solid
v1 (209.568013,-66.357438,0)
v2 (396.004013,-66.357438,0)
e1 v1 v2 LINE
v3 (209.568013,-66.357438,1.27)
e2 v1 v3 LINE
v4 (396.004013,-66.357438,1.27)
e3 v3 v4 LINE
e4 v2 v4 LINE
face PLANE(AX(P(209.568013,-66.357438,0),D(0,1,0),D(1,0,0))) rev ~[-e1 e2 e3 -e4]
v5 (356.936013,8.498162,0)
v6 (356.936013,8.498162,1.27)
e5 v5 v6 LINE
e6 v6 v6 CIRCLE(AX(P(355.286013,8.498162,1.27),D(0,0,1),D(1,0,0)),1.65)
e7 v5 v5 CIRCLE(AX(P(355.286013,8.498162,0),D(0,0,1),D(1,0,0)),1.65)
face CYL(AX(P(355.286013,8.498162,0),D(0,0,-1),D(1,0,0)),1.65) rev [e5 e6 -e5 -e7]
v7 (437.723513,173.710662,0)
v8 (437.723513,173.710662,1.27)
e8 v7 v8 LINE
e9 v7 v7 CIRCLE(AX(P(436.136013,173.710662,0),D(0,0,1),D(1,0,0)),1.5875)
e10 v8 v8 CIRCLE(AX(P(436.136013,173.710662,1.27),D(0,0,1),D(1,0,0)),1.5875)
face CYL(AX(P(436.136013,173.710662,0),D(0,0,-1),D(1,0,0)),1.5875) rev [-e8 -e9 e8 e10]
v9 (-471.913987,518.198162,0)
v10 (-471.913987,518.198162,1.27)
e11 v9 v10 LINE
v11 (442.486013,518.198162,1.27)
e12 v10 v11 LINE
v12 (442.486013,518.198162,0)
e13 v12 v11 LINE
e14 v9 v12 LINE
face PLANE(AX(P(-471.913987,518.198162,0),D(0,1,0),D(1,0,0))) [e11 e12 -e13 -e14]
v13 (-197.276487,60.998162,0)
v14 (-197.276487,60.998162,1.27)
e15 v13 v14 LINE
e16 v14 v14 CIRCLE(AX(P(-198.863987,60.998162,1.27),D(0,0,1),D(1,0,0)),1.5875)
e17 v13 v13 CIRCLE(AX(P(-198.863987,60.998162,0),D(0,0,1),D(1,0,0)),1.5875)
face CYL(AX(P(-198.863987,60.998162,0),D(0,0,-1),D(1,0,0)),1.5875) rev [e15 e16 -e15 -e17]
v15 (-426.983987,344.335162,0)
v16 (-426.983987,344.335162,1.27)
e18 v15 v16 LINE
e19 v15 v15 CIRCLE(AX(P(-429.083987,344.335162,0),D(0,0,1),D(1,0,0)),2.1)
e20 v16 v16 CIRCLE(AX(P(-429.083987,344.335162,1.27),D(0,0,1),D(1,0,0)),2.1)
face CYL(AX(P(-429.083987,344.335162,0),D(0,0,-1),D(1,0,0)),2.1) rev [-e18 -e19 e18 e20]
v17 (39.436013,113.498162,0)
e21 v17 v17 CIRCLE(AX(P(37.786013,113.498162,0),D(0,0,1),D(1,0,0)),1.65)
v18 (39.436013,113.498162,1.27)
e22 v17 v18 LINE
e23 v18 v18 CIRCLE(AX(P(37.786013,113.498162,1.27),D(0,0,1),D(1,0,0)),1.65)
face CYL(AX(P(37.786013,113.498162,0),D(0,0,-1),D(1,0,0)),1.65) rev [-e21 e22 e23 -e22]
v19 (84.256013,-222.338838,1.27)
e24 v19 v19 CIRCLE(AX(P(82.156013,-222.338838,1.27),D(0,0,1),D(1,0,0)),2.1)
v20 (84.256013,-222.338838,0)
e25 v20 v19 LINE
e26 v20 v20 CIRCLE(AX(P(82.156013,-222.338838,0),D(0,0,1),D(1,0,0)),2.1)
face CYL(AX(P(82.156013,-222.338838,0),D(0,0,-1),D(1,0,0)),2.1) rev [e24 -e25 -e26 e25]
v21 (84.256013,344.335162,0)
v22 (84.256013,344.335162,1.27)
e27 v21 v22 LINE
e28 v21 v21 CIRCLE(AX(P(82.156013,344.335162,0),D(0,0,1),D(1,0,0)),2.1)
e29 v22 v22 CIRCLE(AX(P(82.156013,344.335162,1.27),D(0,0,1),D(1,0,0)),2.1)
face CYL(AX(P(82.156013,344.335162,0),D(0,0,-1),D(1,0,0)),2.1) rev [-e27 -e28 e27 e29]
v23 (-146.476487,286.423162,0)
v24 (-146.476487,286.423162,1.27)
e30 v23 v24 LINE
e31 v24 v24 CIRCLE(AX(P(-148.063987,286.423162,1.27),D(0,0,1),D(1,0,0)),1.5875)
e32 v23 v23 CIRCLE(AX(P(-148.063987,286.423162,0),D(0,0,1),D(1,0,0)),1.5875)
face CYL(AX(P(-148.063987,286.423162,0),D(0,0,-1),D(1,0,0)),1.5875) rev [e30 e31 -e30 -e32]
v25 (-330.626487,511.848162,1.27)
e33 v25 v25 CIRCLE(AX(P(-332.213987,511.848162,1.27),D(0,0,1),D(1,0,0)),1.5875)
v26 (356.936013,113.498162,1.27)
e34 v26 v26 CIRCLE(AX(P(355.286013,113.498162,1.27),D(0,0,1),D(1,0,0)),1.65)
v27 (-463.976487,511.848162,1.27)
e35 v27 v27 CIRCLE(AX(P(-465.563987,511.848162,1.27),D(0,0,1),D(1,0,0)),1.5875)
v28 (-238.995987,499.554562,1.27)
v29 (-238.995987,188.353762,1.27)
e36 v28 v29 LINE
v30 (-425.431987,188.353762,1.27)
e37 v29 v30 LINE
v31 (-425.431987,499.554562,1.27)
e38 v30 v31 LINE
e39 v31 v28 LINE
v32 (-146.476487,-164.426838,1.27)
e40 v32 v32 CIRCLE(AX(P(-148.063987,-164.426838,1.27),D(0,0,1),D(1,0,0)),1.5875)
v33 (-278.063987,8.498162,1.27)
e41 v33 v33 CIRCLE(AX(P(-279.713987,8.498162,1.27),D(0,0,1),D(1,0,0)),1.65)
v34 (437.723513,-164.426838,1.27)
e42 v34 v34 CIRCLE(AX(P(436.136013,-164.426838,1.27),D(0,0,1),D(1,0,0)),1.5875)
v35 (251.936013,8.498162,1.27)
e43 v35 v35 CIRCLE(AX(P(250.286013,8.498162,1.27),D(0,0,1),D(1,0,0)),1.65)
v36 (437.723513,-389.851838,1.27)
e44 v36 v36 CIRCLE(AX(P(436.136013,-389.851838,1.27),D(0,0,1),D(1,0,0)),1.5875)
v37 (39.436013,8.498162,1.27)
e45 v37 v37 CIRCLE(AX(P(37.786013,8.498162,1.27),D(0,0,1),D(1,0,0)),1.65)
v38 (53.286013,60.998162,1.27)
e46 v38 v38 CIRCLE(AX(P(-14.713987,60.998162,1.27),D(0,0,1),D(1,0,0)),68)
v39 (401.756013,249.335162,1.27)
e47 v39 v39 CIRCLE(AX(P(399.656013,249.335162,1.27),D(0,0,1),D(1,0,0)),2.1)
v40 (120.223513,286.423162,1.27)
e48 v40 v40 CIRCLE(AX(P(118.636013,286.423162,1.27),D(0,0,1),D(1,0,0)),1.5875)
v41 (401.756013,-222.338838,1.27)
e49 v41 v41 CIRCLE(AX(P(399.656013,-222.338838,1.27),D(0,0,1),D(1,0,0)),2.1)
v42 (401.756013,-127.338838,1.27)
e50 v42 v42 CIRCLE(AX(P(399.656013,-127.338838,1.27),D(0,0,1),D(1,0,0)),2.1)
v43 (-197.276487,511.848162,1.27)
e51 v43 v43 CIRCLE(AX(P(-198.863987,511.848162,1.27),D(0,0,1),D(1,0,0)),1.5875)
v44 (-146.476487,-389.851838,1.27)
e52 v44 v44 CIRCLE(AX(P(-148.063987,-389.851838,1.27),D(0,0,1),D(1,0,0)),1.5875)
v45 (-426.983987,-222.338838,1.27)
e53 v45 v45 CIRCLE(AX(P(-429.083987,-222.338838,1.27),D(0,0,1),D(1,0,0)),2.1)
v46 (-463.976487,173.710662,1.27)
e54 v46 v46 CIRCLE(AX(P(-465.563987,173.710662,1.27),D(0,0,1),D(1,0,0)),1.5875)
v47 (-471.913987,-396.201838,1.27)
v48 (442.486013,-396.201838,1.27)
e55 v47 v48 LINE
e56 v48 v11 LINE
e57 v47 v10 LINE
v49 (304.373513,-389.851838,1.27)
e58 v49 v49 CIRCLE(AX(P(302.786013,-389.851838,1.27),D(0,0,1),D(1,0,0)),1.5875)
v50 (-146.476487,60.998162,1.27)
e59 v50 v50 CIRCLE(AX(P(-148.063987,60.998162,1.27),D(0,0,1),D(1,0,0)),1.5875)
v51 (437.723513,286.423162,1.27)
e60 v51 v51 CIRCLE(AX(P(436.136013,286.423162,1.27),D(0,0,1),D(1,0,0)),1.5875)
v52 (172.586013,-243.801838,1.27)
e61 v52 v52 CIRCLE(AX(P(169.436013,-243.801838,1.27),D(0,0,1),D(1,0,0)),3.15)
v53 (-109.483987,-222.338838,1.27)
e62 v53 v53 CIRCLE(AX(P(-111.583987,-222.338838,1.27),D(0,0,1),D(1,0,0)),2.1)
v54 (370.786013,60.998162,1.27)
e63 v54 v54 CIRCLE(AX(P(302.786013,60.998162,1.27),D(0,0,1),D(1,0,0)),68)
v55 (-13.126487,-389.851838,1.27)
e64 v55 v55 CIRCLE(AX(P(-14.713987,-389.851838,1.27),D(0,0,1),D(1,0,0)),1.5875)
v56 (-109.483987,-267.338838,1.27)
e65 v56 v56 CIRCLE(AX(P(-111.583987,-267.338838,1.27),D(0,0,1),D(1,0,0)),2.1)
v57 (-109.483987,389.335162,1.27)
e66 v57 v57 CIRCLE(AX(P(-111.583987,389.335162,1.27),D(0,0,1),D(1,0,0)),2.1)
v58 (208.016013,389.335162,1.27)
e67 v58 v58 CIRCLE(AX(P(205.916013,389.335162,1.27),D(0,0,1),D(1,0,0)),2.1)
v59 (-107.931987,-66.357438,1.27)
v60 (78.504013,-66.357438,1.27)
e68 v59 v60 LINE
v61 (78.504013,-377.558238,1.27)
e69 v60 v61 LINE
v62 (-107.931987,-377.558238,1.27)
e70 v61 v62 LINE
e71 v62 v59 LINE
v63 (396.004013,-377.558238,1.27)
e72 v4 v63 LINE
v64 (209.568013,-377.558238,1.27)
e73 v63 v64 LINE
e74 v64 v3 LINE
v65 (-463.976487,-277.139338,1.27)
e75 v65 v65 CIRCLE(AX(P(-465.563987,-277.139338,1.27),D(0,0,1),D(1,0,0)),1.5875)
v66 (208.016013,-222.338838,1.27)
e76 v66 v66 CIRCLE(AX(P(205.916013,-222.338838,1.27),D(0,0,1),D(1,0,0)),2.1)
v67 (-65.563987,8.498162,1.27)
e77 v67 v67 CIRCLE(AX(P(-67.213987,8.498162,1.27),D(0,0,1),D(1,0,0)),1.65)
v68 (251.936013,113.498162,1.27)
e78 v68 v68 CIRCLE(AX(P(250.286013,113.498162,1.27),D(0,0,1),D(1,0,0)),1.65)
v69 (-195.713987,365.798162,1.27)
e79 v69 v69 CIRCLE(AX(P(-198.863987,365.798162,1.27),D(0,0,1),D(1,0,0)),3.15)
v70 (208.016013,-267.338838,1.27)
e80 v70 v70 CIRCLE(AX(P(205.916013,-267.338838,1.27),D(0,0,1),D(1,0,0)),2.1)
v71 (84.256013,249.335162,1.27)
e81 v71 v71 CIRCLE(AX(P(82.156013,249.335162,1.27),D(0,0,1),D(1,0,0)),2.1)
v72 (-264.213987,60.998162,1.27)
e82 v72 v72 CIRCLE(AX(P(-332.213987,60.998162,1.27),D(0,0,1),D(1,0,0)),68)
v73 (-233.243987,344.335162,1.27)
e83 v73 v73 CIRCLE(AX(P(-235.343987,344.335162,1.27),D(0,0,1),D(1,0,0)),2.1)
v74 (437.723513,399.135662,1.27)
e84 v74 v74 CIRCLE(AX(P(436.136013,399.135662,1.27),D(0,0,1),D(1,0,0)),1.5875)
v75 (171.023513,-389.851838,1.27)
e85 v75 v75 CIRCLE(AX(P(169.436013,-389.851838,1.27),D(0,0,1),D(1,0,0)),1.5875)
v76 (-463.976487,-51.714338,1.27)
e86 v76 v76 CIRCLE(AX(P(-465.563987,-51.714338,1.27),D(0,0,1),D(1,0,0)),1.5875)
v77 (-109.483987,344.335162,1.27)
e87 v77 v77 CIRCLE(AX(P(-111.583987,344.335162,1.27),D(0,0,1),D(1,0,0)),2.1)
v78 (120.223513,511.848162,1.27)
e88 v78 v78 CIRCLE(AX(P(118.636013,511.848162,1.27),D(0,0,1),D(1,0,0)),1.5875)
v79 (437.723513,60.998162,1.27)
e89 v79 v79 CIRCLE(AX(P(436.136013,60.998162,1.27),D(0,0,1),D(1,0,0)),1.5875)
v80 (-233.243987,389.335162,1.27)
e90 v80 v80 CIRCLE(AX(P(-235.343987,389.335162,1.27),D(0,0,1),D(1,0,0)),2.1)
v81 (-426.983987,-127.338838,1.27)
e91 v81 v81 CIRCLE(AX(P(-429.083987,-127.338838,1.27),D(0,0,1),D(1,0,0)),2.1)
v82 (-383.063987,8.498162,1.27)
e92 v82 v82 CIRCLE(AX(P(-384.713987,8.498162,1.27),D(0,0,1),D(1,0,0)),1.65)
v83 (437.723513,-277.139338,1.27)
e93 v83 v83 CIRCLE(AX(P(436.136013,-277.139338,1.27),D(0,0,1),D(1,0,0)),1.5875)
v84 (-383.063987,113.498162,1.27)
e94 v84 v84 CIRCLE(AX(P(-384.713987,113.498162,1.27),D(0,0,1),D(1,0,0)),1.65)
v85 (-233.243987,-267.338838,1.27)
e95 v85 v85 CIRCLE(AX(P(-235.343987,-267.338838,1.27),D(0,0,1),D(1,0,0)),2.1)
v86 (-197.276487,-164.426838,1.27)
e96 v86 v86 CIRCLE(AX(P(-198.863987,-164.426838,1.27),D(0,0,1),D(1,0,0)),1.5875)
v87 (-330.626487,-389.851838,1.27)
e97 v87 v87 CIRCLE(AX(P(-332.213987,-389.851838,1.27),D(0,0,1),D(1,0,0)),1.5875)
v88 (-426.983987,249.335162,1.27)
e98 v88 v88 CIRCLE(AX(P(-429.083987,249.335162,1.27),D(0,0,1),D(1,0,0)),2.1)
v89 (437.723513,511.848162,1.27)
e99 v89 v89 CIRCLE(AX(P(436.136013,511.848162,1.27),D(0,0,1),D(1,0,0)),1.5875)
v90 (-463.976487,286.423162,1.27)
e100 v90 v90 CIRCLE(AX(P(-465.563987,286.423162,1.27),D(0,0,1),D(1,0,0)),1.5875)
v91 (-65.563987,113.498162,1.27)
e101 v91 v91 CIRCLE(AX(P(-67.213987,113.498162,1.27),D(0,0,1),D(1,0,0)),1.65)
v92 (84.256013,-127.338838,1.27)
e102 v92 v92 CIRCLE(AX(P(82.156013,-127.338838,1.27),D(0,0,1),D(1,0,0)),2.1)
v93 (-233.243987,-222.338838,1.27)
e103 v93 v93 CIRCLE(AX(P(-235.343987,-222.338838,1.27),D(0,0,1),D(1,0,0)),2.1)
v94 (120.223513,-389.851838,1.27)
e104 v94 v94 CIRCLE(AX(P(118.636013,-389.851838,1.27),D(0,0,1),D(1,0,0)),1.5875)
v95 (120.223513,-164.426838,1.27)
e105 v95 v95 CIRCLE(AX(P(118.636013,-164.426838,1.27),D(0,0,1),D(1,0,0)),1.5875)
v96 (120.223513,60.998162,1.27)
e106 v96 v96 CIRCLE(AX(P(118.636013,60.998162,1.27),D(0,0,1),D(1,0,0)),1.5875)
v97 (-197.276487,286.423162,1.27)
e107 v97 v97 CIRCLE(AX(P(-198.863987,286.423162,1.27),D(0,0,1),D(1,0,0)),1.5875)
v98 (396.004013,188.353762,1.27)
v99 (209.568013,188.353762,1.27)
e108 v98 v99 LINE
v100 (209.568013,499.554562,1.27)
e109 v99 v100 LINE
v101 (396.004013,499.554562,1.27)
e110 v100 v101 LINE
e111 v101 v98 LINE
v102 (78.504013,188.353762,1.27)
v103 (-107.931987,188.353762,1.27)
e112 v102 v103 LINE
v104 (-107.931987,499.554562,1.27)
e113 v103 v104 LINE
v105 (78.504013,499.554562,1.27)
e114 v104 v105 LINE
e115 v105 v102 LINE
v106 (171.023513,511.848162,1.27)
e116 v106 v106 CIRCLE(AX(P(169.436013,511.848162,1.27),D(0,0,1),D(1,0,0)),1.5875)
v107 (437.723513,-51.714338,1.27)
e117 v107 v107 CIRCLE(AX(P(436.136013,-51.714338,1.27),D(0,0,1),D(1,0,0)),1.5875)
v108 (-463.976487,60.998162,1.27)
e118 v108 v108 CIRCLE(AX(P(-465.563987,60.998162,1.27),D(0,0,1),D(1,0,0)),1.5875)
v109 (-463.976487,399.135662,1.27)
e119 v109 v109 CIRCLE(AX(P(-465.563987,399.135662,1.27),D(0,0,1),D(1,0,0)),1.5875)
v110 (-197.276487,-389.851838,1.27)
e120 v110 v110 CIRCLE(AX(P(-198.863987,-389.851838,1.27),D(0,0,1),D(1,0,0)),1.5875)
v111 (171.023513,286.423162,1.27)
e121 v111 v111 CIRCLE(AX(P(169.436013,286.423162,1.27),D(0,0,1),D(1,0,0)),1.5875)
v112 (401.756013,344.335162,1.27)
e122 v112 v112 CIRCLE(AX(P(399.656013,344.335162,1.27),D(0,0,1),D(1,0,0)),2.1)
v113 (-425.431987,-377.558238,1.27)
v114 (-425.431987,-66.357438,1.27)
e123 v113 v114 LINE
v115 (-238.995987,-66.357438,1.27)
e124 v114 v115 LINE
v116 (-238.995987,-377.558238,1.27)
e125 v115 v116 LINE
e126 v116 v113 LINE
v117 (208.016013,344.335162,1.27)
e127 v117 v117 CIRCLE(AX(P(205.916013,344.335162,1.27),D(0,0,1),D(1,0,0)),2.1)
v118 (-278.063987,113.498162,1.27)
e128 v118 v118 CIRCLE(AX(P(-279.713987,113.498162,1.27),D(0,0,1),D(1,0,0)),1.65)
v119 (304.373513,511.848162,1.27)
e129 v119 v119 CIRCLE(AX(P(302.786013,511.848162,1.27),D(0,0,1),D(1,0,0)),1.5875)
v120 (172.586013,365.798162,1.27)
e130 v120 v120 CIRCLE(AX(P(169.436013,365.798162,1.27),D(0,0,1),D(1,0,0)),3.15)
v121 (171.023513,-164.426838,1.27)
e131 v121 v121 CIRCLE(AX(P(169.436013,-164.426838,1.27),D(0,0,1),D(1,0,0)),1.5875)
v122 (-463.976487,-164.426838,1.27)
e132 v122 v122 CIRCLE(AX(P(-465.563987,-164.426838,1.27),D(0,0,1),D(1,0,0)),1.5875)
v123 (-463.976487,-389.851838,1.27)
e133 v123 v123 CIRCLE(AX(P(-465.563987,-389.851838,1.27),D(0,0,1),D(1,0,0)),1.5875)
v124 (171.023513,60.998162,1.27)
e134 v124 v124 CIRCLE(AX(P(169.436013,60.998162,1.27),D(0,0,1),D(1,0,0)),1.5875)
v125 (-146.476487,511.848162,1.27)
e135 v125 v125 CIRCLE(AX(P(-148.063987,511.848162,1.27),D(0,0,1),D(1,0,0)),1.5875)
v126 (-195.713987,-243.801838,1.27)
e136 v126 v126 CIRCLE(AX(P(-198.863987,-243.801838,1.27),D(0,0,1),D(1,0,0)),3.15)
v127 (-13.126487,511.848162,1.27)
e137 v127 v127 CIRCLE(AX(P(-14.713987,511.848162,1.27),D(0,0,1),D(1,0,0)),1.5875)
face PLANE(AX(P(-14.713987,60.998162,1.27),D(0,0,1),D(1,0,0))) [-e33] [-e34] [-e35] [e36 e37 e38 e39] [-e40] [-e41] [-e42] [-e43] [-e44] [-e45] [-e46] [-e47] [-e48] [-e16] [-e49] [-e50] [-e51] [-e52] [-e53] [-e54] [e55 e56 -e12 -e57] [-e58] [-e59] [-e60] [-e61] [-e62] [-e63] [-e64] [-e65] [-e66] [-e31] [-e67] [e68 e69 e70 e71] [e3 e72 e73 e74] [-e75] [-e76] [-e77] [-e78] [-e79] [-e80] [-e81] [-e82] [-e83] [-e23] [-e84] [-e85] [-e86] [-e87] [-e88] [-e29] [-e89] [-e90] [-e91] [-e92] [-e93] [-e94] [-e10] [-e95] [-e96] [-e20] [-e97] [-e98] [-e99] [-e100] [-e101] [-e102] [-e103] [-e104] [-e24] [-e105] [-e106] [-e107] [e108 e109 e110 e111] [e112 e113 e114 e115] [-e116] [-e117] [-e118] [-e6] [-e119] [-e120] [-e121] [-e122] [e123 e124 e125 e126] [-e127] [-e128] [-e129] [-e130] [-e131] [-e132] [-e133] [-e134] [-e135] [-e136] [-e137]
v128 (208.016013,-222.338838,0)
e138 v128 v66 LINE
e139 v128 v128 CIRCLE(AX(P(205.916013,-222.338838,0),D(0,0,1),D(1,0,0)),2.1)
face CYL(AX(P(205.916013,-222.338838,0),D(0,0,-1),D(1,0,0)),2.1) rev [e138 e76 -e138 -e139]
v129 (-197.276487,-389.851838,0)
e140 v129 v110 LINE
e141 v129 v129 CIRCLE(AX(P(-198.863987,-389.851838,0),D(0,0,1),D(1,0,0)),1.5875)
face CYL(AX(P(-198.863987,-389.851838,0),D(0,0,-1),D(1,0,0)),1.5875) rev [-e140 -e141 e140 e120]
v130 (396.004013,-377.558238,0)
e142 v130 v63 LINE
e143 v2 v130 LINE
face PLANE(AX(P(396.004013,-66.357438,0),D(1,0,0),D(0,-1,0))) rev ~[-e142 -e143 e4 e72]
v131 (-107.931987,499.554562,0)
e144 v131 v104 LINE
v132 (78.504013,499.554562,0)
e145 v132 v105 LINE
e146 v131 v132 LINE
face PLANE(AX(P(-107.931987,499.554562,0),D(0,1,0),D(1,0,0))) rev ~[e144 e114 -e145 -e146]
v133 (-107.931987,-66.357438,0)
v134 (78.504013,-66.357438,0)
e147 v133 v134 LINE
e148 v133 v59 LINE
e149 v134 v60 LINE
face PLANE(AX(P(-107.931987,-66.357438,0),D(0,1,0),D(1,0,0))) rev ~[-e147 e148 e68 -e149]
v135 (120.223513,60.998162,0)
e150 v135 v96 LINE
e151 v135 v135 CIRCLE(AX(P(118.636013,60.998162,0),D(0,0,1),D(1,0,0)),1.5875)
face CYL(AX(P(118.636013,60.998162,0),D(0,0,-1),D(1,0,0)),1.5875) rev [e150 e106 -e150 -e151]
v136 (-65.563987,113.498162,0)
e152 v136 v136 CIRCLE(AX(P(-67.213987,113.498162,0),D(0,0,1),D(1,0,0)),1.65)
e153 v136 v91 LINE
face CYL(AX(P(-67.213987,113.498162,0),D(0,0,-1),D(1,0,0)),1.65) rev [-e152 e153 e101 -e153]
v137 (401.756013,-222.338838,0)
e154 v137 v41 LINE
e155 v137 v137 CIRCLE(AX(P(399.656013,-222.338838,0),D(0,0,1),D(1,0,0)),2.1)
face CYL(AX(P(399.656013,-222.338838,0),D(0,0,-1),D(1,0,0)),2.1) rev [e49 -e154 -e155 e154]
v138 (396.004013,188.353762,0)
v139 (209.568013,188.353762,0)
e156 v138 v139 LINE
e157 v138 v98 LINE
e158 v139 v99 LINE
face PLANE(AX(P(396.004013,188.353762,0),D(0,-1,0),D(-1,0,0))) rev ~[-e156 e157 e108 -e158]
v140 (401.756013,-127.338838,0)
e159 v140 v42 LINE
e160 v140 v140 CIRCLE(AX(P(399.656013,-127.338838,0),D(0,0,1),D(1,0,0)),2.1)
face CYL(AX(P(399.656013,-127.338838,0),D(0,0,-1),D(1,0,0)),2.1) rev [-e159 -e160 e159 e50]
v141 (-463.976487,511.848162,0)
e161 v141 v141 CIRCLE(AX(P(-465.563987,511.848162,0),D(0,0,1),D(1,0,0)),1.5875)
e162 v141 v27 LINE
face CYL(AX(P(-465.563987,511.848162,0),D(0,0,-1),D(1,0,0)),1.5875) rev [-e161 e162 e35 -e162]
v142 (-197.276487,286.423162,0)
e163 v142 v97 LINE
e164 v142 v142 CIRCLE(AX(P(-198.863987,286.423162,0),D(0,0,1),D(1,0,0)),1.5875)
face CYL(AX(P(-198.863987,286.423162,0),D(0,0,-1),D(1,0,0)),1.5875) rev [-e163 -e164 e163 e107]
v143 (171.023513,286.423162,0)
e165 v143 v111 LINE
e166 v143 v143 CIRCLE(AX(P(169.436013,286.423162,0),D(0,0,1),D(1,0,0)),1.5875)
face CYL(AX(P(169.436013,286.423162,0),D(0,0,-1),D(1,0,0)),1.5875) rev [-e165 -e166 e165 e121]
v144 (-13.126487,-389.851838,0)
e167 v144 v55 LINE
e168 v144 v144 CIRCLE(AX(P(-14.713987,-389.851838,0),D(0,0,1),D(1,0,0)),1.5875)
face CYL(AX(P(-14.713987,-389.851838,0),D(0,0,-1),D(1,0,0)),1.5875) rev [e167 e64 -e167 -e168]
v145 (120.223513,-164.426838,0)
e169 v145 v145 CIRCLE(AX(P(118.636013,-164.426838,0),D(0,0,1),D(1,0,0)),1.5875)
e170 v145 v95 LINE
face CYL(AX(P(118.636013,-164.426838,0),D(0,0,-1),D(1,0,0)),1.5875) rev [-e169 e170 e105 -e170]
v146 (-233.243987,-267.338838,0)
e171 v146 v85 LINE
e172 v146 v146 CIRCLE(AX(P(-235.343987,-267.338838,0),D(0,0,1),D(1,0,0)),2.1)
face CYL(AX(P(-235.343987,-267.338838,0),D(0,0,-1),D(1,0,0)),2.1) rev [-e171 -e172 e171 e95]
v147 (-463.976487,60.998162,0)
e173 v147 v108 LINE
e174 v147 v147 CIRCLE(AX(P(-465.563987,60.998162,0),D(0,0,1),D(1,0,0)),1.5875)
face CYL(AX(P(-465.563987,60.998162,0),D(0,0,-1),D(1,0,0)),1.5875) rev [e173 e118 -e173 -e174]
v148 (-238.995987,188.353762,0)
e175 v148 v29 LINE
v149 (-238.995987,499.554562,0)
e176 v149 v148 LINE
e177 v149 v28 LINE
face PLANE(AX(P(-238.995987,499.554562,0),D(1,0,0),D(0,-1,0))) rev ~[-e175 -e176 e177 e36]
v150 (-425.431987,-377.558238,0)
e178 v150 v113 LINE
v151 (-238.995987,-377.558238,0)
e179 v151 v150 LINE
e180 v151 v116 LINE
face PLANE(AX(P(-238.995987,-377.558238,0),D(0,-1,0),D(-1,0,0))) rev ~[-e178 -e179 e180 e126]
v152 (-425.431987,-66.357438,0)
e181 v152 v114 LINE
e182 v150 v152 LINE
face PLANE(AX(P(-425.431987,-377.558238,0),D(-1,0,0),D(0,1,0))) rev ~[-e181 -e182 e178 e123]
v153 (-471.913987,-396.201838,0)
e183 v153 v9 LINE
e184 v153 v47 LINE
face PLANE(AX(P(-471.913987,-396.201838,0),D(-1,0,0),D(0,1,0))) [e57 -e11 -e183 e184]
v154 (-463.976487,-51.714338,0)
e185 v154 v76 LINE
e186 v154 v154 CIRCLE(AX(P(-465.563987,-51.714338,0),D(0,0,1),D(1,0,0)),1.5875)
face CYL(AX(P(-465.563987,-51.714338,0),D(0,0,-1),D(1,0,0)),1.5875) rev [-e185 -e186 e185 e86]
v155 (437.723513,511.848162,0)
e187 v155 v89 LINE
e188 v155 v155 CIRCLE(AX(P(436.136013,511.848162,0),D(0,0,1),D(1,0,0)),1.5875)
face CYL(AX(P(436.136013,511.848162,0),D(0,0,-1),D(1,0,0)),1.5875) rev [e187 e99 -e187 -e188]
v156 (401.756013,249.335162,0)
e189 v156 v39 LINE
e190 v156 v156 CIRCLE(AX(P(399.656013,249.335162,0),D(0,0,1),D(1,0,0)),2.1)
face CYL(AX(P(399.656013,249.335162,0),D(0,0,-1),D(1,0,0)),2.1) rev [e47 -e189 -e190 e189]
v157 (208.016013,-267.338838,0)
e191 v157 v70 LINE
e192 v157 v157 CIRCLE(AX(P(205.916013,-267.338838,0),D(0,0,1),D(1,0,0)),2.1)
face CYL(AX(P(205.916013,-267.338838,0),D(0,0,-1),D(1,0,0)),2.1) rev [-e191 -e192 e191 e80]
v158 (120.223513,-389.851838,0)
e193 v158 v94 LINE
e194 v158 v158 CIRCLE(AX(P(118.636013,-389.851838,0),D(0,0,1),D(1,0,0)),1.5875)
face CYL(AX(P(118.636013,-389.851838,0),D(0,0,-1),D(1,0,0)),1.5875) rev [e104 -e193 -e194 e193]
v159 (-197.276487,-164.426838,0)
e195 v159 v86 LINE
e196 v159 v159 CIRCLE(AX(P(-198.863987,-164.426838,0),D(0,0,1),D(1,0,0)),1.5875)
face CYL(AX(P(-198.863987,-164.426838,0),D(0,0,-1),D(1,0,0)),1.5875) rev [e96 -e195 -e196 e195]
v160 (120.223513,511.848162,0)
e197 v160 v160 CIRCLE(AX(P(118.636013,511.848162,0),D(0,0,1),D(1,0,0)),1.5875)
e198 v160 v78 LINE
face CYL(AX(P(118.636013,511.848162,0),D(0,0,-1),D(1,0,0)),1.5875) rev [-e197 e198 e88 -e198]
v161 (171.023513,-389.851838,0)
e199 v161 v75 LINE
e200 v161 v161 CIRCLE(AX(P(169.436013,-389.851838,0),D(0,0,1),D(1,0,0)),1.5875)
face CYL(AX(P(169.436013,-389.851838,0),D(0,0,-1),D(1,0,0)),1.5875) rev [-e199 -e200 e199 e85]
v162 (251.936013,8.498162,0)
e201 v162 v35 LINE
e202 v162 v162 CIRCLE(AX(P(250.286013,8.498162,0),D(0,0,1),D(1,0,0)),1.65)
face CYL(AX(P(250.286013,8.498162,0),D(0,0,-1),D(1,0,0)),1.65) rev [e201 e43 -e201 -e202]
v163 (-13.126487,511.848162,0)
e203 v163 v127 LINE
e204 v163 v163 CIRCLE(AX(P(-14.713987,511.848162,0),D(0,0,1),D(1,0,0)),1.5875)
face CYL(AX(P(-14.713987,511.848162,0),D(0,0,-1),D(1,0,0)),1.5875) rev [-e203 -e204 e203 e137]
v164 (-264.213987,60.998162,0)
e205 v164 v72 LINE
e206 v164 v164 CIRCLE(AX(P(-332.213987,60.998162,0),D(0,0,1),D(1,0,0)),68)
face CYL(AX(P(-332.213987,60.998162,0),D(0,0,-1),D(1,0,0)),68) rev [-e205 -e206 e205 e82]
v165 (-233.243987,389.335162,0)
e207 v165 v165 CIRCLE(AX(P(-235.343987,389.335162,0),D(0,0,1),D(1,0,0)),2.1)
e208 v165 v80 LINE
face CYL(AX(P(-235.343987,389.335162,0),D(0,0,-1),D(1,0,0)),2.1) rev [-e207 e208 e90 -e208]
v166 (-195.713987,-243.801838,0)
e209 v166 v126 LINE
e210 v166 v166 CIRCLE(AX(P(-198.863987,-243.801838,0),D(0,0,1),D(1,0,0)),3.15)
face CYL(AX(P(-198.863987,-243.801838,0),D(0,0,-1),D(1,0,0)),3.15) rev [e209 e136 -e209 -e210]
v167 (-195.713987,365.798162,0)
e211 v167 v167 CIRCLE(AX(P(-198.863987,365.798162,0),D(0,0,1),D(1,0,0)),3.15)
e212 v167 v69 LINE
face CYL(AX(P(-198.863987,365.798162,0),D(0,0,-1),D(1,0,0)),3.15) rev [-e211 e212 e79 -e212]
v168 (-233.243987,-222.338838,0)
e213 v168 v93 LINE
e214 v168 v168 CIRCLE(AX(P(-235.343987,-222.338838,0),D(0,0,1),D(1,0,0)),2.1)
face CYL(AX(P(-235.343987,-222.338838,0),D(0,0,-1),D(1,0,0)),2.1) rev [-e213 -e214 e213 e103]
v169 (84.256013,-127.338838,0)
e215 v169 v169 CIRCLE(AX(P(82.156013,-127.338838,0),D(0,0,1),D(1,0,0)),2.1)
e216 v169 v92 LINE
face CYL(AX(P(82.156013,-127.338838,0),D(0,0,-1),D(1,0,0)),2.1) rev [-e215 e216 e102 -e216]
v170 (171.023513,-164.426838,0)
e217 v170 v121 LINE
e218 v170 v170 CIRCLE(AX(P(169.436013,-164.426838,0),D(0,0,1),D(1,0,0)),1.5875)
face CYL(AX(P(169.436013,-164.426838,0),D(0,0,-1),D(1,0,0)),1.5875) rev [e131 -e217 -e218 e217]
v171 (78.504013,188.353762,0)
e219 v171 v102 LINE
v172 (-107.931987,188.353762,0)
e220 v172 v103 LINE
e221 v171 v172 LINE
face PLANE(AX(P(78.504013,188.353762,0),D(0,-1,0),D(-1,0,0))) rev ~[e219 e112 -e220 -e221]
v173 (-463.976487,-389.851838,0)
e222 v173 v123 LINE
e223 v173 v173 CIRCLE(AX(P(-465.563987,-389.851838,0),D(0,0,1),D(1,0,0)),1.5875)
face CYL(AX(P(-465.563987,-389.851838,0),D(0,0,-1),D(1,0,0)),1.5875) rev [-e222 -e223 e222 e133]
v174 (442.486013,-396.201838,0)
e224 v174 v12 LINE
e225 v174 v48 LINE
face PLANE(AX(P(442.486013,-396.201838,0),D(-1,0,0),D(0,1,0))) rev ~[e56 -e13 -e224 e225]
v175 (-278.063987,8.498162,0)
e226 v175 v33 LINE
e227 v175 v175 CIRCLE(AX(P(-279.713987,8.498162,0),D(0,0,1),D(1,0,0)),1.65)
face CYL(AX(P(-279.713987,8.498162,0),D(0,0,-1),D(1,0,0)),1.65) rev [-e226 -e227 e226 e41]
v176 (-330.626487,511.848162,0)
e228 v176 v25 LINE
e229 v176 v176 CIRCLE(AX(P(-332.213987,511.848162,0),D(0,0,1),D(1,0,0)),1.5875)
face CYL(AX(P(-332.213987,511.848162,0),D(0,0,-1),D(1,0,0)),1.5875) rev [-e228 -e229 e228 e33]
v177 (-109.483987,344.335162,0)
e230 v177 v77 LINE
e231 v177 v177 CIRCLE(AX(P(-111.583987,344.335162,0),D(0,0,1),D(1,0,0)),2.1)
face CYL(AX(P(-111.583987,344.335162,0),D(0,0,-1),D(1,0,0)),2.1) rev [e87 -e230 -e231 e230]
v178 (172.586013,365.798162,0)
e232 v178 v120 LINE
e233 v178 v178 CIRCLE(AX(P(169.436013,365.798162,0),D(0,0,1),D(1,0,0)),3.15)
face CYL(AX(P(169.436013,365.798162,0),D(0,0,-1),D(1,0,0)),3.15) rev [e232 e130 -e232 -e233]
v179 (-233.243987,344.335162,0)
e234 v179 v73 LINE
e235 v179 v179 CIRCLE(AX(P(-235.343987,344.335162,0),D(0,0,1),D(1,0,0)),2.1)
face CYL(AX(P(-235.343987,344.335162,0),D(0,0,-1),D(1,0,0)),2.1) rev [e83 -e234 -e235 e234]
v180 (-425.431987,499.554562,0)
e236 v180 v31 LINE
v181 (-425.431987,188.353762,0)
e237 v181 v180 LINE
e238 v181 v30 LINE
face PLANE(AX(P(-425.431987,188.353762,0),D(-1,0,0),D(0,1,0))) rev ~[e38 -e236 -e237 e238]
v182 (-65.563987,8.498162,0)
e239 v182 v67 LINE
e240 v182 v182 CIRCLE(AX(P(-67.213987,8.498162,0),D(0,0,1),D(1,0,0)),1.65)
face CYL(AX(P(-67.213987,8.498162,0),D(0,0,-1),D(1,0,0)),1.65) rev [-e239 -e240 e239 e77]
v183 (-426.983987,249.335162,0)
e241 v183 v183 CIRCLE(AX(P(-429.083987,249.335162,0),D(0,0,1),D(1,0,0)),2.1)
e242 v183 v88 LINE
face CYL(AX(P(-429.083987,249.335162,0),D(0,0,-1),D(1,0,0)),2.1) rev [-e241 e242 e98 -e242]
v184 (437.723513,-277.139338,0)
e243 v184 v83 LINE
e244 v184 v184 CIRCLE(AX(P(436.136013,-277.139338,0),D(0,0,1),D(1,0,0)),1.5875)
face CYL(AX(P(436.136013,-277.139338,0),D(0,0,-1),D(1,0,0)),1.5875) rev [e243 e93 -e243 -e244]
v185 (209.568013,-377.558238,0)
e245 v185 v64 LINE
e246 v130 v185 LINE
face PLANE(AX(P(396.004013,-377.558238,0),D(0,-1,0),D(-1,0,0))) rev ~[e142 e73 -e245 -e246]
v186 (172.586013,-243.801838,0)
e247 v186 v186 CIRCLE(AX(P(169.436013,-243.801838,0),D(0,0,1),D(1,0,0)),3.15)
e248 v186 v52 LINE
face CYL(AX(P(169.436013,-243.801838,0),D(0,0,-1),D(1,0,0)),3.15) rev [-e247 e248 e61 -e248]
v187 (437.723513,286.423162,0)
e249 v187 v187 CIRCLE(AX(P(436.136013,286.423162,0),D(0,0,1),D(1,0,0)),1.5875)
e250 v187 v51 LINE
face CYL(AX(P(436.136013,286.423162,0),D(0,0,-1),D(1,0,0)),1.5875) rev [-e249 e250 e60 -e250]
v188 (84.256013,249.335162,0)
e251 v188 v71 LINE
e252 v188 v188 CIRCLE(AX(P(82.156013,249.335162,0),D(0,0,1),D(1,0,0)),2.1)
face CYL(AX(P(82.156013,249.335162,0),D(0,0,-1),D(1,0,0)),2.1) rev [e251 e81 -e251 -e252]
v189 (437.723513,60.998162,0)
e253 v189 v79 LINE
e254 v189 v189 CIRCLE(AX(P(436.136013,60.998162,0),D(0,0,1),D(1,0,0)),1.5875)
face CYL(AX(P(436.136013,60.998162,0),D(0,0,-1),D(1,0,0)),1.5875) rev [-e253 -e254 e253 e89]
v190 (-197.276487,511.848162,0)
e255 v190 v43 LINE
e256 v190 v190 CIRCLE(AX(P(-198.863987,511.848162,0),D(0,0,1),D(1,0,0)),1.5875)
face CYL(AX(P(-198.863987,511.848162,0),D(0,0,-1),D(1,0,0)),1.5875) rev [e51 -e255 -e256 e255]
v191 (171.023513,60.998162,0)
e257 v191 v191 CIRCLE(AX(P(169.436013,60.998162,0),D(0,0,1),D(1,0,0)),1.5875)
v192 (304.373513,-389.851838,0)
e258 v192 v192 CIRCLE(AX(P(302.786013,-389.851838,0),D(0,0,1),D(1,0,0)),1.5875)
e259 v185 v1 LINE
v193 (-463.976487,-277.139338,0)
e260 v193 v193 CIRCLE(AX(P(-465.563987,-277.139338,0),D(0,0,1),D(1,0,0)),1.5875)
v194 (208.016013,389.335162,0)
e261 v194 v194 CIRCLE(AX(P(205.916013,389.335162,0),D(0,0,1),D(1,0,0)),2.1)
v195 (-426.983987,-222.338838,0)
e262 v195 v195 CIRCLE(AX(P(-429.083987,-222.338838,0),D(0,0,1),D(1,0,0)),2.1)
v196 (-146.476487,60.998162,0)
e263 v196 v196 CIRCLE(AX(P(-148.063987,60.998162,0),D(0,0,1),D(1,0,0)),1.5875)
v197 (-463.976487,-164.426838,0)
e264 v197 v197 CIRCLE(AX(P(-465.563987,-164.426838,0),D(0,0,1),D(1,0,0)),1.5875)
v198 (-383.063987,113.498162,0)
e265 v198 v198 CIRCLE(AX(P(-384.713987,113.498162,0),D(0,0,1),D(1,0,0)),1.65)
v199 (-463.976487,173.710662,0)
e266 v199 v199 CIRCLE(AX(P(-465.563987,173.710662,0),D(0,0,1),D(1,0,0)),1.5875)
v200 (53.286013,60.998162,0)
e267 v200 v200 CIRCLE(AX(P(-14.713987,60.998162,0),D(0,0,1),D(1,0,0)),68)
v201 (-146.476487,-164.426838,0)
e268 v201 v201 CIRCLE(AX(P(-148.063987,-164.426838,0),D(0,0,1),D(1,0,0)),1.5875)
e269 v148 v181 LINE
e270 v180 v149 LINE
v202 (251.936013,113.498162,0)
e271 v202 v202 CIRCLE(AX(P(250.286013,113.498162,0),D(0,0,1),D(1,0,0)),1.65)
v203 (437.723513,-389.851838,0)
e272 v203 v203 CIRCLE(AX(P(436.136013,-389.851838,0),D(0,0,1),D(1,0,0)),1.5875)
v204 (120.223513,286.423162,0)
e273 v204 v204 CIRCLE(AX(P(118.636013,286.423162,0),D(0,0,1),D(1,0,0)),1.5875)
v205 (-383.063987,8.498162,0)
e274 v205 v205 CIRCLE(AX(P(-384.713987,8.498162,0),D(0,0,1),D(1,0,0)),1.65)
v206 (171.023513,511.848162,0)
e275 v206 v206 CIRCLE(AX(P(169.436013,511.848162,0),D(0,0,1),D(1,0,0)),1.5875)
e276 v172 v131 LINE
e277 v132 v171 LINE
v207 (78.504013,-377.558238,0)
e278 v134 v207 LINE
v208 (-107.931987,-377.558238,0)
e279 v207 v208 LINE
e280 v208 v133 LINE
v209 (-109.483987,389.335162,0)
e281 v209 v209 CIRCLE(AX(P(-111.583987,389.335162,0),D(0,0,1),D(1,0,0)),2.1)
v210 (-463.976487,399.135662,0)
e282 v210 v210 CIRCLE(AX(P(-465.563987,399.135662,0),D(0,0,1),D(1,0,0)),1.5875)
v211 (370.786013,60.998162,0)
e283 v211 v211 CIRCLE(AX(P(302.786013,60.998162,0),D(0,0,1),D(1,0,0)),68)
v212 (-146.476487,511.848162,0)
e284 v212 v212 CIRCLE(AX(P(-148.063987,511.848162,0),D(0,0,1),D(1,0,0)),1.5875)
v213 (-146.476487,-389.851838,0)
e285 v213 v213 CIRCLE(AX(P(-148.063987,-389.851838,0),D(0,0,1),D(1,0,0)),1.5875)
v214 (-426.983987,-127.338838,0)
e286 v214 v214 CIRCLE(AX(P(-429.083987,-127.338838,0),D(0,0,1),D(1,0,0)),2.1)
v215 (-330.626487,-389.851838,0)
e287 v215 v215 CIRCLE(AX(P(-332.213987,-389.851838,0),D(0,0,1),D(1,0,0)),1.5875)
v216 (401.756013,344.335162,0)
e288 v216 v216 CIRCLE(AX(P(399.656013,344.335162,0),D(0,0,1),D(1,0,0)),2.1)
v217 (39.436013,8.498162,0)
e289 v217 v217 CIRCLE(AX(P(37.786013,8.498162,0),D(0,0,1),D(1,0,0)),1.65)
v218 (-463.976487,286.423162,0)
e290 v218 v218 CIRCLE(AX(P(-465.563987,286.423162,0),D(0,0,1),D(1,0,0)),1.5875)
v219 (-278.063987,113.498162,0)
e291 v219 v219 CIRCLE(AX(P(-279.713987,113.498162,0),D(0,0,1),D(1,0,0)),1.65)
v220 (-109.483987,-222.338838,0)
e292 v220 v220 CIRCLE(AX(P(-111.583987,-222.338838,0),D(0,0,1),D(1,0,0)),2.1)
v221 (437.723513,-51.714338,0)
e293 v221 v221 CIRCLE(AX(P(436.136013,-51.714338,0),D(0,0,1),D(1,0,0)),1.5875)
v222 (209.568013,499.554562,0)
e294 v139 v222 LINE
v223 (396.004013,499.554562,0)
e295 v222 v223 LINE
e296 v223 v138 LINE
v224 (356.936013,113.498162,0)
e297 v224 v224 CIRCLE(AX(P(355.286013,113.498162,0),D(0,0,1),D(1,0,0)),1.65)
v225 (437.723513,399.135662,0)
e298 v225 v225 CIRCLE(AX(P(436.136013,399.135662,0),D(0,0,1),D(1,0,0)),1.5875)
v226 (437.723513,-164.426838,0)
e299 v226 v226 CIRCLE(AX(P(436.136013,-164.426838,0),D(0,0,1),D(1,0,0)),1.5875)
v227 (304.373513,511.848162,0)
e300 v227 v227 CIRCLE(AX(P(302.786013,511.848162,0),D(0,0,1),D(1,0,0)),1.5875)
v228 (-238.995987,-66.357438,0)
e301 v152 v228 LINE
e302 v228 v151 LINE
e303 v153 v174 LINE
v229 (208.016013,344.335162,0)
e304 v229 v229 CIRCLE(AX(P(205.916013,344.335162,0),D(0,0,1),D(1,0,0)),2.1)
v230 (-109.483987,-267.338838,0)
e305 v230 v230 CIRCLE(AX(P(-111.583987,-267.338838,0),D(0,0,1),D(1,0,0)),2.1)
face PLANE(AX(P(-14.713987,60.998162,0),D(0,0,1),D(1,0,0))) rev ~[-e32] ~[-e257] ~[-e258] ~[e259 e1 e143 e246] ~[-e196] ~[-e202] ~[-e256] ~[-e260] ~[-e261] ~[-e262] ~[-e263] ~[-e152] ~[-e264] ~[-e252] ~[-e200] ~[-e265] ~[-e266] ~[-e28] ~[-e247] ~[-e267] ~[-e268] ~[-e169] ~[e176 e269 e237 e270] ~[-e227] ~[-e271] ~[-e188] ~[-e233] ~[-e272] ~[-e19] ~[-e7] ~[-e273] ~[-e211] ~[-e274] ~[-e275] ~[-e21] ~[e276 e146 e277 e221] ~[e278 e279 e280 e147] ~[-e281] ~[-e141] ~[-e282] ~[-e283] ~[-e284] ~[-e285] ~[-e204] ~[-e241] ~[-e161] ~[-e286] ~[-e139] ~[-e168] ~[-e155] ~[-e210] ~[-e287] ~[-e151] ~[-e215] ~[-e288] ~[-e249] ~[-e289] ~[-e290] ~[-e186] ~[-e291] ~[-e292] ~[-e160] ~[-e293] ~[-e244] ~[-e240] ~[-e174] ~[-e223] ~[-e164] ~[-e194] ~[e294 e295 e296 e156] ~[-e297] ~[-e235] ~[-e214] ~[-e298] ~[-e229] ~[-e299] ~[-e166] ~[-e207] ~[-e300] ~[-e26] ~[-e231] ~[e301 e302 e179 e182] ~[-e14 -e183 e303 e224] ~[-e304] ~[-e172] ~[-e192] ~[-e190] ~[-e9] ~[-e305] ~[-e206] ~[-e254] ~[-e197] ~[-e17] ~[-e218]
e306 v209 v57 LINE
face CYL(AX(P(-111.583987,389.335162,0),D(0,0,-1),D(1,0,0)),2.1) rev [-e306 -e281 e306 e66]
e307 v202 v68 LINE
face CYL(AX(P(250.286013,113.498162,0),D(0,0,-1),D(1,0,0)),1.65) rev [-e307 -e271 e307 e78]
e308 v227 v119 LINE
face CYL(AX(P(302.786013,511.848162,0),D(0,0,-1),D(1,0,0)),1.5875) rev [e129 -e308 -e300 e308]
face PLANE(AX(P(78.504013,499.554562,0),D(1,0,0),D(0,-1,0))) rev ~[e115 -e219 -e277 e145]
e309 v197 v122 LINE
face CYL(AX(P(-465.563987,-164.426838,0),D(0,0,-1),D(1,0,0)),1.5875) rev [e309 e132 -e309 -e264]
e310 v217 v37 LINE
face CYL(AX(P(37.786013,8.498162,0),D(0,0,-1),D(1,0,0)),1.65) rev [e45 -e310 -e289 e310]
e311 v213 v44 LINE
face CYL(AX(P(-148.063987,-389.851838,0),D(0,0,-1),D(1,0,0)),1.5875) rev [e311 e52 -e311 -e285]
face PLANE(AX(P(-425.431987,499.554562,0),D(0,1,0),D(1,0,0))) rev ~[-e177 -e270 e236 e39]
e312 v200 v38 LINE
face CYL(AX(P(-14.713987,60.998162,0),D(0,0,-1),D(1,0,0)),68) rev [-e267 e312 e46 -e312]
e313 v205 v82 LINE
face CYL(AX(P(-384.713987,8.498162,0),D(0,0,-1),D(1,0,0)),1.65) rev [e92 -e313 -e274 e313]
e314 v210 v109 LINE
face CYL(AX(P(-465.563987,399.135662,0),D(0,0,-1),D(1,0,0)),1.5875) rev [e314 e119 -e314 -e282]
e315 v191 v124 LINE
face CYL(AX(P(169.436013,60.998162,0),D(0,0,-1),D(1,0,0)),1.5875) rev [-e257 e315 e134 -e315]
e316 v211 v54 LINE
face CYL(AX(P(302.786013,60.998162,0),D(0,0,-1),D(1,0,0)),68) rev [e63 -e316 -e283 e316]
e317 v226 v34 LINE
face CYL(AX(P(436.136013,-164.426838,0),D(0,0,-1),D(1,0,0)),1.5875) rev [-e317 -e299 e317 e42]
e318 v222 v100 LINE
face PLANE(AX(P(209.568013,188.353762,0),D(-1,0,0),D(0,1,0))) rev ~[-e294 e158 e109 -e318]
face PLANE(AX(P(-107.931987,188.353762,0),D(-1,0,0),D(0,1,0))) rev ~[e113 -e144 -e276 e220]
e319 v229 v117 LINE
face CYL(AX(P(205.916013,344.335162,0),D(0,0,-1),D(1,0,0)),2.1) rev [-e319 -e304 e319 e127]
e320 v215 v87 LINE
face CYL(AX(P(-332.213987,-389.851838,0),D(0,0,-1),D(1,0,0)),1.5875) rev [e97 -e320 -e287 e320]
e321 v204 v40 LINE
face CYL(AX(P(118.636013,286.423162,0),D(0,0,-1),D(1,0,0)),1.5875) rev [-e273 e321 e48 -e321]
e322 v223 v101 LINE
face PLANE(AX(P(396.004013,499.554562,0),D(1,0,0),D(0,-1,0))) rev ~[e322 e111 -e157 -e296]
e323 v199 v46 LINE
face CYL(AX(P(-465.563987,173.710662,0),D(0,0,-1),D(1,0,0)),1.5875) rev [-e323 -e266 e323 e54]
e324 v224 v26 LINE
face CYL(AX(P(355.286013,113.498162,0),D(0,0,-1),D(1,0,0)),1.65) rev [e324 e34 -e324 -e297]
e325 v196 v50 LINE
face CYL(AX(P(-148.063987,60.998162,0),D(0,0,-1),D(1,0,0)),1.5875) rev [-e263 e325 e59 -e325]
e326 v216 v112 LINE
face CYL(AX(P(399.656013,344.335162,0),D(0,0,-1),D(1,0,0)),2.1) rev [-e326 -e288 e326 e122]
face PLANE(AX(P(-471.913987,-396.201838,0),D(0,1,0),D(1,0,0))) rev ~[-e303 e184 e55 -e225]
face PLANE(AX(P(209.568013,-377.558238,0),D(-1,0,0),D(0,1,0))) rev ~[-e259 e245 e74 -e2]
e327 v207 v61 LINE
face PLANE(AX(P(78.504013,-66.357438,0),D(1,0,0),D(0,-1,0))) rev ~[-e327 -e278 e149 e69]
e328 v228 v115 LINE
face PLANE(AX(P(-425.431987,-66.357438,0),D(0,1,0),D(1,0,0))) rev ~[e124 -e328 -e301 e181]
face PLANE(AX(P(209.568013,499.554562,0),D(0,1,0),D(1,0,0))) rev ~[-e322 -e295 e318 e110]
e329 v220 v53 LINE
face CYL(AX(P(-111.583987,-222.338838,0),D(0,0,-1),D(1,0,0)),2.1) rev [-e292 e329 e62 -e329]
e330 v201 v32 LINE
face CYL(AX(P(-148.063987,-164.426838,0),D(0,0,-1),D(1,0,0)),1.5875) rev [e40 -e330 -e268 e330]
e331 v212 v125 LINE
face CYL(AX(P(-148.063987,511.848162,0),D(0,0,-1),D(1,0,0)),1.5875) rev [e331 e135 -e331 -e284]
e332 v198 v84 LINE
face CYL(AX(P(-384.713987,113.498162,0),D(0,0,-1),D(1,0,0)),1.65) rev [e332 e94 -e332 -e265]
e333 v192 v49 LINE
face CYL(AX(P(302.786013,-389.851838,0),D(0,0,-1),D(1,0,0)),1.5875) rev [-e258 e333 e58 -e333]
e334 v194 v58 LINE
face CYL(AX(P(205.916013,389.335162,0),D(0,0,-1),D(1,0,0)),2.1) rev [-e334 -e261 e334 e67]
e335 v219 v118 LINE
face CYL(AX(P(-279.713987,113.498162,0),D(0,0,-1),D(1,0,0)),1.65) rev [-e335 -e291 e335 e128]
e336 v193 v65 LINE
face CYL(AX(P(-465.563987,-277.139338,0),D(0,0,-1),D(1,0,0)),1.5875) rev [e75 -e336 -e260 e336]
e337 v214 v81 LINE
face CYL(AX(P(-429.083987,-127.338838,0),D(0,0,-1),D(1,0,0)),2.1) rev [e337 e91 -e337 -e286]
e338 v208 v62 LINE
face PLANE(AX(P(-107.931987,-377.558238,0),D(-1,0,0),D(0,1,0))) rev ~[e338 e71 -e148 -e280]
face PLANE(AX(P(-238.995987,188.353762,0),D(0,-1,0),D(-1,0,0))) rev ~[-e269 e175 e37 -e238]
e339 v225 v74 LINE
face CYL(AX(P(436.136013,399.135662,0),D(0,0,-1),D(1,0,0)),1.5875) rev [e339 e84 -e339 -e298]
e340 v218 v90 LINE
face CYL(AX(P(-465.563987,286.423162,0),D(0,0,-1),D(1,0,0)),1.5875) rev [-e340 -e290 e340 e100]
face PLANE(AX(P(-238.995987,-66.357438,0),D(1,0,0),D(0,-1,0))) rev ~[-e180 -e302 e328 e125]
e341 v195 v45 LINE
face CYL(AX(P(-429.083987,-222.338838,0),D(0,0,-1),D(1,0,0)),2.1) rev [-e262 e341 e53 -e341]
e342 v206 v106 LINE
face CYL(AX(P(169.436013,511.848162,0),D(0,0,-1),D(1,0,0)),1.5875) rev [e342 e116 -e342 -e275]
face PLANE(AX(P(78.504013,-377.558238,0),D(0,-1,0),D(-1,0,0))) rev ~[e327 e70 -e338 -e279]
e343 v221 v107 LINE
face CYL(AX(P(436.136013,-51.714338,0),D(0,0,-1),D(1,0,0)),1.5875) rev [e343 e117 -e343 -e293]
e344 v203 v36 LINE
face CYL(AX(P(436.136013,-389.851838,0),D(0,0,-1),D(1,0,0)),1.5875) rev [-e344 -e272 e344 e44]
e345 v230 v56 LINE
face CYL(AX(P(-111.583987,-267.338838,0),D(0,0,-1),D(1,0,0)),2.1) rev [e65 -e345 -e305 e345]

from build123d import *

# Parameters (mm, degrees)
F0_W     = 914.4
F0_H     = 914.4
F0_R     = 1.5875
F0_R_2   = 2.1
F0_R_3   = 3.15
F0_R_4   = 1.65
F0_R_5   = 68
F1_DEPTH = 1.27


with BuildPart() as f1:
    # F0 (on Top) → F1 (new body)
    with BuildSketch(Plane.XY):
        with Locations((-14.713987, 60.998162)):
            Rectangle(F0_W, F0_H)
        with Locations((-465.563987, -389.851838)):
            Circle(F0_R, mode=Mode.SUBTRACT)
        with Locations((-332.213987, -389.851838)):
            Circle(F0_R, mode=Mode.SUBTRACT)
        with Locations((-465.563987, -277.139338)):
            Circle(F0_R, mode=Mode.SUBTRACT)
        with Locations((-429.083987, -222.338838)):
            Circle(F0_R_2, mode=Mode.SUBTRACT)
        Polygon((-238.995987, -66.763838), (-238.995987, -377.151838), (-238.995987, -377.558238), (-425.431987, -377.558238), (-425.431987, -377.151838), (-425.431987, -66.763838), (-425.431987, -66.357438), (-238.995987, -66.357438), align=None, mode=Mode.SUBTRACT)
        with Locations((-198.863987, -389.851838)):
            Circle(F0_R, mode=Mode.SUBTRACT)
        with Locations((-148.063987, -389.851838)):
            Circle(F0_R, mode=Mode.SUBTRACT)
        with Locations((-235.343987, -267.338838)):
            Circle(F0_R_2, mode=Mode.SUBTRACT)
        with Locations((-198.863987, -243.801838)):
            Circle(F0_R_3, mode=Mode.SUBTRACT)
        with Locations((-235.343987, -222.338838)):
            Circle(F0_R_2, mode=Mode.SUBTRACT)
        with Locations((-111.583987, -267.338838)):
            Circle(F0_R_2, mode=Mode.SUBTRACT)
        with Locations((-111.583987, -222.338838)):
            Circle(F0_R_2, mode=Mode.SUBTRACT)
        Polygon((-107.931987, -66.763838), (-107.931987, -66.357438), (78.504013, -66.357438), (78.504013, -66.763838), (78.504013, -377.151838), (78.504013, -377.558238), (-107.931987, -377.558238), (-107.931987, -377.151838), align=None, mode=Mode.SUBTRACT)
        with Locations((-465.563987, -164.426838)):
            Circle(F0_R, mode=Mode.SUBTRACT)
        with Locations((-429.083987, -127.338838)):
            Circle(F0_R_2, mode=Mode.SUBTRACT)
        with Locations((-465.563987, -51.714338)):
            Circle(F0_R, mode=Mode.SUBTRACT)
        with Locations((-465.563987, 60.998162)):
            Circle(F0_R, mode=Mode.SUBTRACT)
        with Locations((-384.713987, 8.498162)):
            Circle(F0_R_4, mode=Mode.SUBTRACT)
        with Locations((-279.713987, 8.498162)):
            Circle(F0_R_4, mode=Mode.SUBTRACT)
        with Locations((-198.863987, -164.426838)):
            Circle(F0_R, mode=Mode.SUBTRACT)
        with Locations((-148.063987, -164.426838)):
            Circle(F0_R, mode=Mode.SUBTRACT)
        with Locations((-198.863987, 60.998162)):
            Circle(F0_R, mode=Mode.SUBTRACT)
        with Locations((-148.063987, 60.998162)):
            Circle(F0_R, mode=Mode.SUBTRACT)
        with Locations((-67.213987, 8.498162)):
            Circle(F0_R_4, mode=Mode.SUBTRACT)
        with Locations((-14.713987, -389.851838)):
            Circle(F0_R, mode=Mode.SUBTRACT)
        with Locations((118.636013, -389.851838)):
            Circle(F0_R, mode=Mode.SUBTRACT)
        with Locations((169.436013, -389.851838)):
            Circle(F0_R, mode=Mode.SUBTRACT)
        with Locations((82.156013, -222.338838)):
            Circle(F0_R_2, mode=Mode.SUBTRACT)
        with Locations((205.916013, -267.338838)):
            Circle(F0_R_2, mode=Mode.SUBTRACT)
        with Locations((169.436013, -243.801838)):
            Circle(F0_R_3, mode=Mode.SUBTRACT)
        with Locations((205.916013, -222.338838)):
            Circle(F0_R_2, mode=Mode.SUBTRACT)
        with Locations((302.786013, -389.851838)):
            Circle(F0_R, mode=Mode.SUBTRACT)
        with Locations((436.136013, -389.851838)):
            Circle(F0_R, mode=Mode.SUBTRACT)
        Polygon((209.568013, -377.558238), (209.568013, -377.151838), (209.568013, -66.763838), (209.568013, -66.357438), (396.004013, -66.357438), (396.004013, -66.763838), (396.004013, -377.151838), (396.004013, -377.558238), align=None, mode=Mode.SUBTRACT)
        with Locations((436.136013, -277.139338)):
            Circle(F0_R, mode=Mode.SUBTRACT)
        with Locations((399.656013, -222.338838)):
            Circle(F0_R_2, mode=Mode.SUBTRACT)
        with Locations((82.156013, -127.338838)):
            Circle(F0_R_2, mode=Mode.SUBTRACT)
        with Locations((118.636013, -164.426838)):
            Circle(F0_R, mode=Mode.SUBTRACT)
        with Locations((169.436013, -164.426838)):
            Circle(F0_R, mode=Mode.SUBTRACT)
        with Locations((37.786013, 8.498162)):
            Circle(F0_R_4, mode=Mode.SUBTRACT)
        with Locations((436.136013, -164.426838)):
            Circle(F0_R, mode=Mode.SUBTRACT)
        with Locations((399.656013, -127.338838)):
            Circle(F0_R_2, mode=Mode.SUBTRACT)
        with Locations((250.286013, 8.498162)):
            Circle(F0_R_4, mode=Mode.SUBTRACT)
        with Locations((436.136013, -51.714338)):
            Circle(F0_R, mode=Mode.SUBTRACT)
        with Locations((355.286013, 8.498162)):
            Circle(F0_R_4, mode=Mode.SUBTRACT)
        with Locations((-384.713987, 113.498162)):
            Circle(F0_R_4, mode=Mode.SUBTRACT)
        with Locations((-465.563987, 173.710662)):
            Circle(F0_R, mode=Mode.SUBTRACT)
        with Locations((-332.213987, 60.998162)):
            Circle(F0_R_5, mode=Mode.SUBTRACT)
        with Locations((-279.713987, 113.498162)):
            Circle(F0_R_4, mode=Mode.SUBTRACT)
        with Locations((-429.083987, 249.335162)):
            Circle(F0_R_2, mode=Mode.SUBTRACT)
        with Locations((-465.563987, 286.423162)):
            Circle(F0_R, mode=Mode.SUBTRACT)
        with Locations((-14.713987, 60.998162)):
            Circle(F0_R_5, mode=Mode.SUBTRACT)
        with Locations((-67.213987, 113.498162)):
            Circle(F0_R_4, mode=Mode.SUBTRACT)
        with Locations((-198.863987, 286.423162)):
            Circle(F0_R, mode=Mode.SUBTRACT)
        with Locations((-148.063987, 286.423162)):
            Circle(F0_R, mode=Mode.SUBTRACT)
        with Locations((-429.083987, 344.335162)):
            Circle(F0_R_2, mode=Mode.SUBTRACT)
        with Locations((-465.563987, 399.135662)):
            Circle(F0_R, mode=Mode.SUBTRACT)
        Polygon((-238.995987, 499.554562), (-238.995987, 499.148162), (-238.995987, 188.760162), (-238.995987, 188.353762), (-425.431987, 188.353762), (-425.431987, 188.760162), (-425.431987, 499.148162), (-425.431987, 499.554562), align=None, mode=Mode.SUBTRACT)
        with Locations((-465.563987, 511.848162)):
            Circle(F0_R, mode=Mode.SUBTRACT)
        with Locations((-332.213987, 511.848162)):
            Circle(F0_R, mode=Mode.SUBTRACT)
        with Locations((-235.343987, 344.335162)):
            Circle(F0_R_2, mode=Mode.SUBTRACT)
        with Locations((-198.863987, 365.798162)):
            Circle(F0_R_3, mode=Mode.SUBTRACT)
        with Locations((-235.343987, 389.335162)):
            Circle(F0_R_2, mode=Mode.SUBTRACT)
        with Locations((-111.583987, 344.335162)):
            Circle(F0_R_2, mode=Mode.SUBTRACT)
        Polygon((78.504013, 499.554562), (78.504013, 499.148162), (78.504013, 188.760162), (78.504013, 188.353762), (-107.931987, 188.353762), (-107.931987, 188.760162), (-107.931987, 499.148162), (-107.931987, 499.554562), align=None, mode=Mode.SUBTRACT)
        with Locations((-111.583987, 389.335162)):
            Circle(F0_R_2, mode=Mode.SUBTRACT)
        with Locations((-198.863987, 511.848162)):
            Circle(F0_R, mode=Mode.SUBTRACT)
        with Locations((-148.063987, 511.848162)):
            Circle(F0_R, mode=Mode.SUBTRACT)
        with Locations((37.786013, 113.498162)):
            Circle(F0_R_4, mode=Mode.SUBTRACT)
        with Locations((118.636013, 60.998162)):
            Circle(F0_R, mode=Mode.SUBTRACT)
        with Locations((169.436013, 60.998162)):
            Circle(F0_R, mode=Mode.SUBTRACT)
        with Locations((82.156013, 249.335162)):
            Circle(F0_R_2, mode=Mode.SUBTRACT)
        with Locations((118.636013, 286.423162)):
            Circle(F0_R, mode=Mode.SUBTRACT)
        with Locations((169.436013, 286.423162)):
            Circle(F0_R, mode=Mode.SUBTRACT)
        with Locations((250.286013, 113.498162)):
            Circle(F0_R_4, mode=Mode.SUBTRACT)
        with Locations((302.786013, 60.998162)):
            Circle(F0_R_5, mode=Mode.SUBTRACT)
        with Locations((355.286013, 113.498162)):
            Circle(F0_R_4, mode=Mode.SUBTRACT)
        with Locations((436.136013, 60.998162)):
            Circle(F0_R, mode=Mode.SUBTRACT)
        with Locations((436.136013, 173.710662)):
            Circle(F0_R, mode=Mode.SUBTRACT)
        with Locations((399.656013, 249.335162)):
            Circle(F0_R_2, mode=Mode.SUBTRACT)
        with Locations((436.136013, 286.423162)):
            Circle(F0_R, mode=Mode.SUBTRACT)
        with Locations((82.156013, 344.335162)):
            Circle(F0_R_2, mode=Mode.SUBTRACT)
        with Locations((205.916013, 344.335162)):
            Circle(F0_R_2, mode=Mode.SUBTRACT)
        with Locations((169.436013, 365.798162)):
            Circle(F0_R_3, mode=Mode.SUBTRACT)
        with Locations((205.916013, 389.335162)):
            Circle(F0_R_2, mode=Mode.SUBTRACT)
        with Locations((-14.713987, 511.848162)):
            Circle(F0_R, mode=Mode.SUBTRACT)
        with Locations((118.636013, 511.848162)):
            Circle(F0_R, mode=Mode.SUBTRACT)
        with Locations((169.436013, 511.848162)):
            Circle(F0_R, mode=Mode.SUBTRACT)
        Polygon((209.568013, 188.760162), (209.568013, 499.148162), (209.568013, 499.554562), (396.004013, 499.554562), (396.004013, 499.148162), (396.004013, 188.760162), (396.004013, 188.353762), (209.568013, 188.353762), align=None, mode=Mode.SUBTRACT)
        with Locations((399.656013, 344.335162)):
            Circle(F0_R_2, mode=Mode.SUBTRACT)
        with Locations((436.136013, 399.135662)):
            Circle(F0_R, mode=Mode.SUBTRACT)
        with Locations((302.786013, 511.848162)):
            Circle(F0_R, mode=Mode.SUBTRACT)
        with Locations((436.136013, 511.848162)):
            Circle(F0_R, mode=Mode.SUBTRACT)
    extrude(amount=F1_DEPTH)


solid = f1.part
